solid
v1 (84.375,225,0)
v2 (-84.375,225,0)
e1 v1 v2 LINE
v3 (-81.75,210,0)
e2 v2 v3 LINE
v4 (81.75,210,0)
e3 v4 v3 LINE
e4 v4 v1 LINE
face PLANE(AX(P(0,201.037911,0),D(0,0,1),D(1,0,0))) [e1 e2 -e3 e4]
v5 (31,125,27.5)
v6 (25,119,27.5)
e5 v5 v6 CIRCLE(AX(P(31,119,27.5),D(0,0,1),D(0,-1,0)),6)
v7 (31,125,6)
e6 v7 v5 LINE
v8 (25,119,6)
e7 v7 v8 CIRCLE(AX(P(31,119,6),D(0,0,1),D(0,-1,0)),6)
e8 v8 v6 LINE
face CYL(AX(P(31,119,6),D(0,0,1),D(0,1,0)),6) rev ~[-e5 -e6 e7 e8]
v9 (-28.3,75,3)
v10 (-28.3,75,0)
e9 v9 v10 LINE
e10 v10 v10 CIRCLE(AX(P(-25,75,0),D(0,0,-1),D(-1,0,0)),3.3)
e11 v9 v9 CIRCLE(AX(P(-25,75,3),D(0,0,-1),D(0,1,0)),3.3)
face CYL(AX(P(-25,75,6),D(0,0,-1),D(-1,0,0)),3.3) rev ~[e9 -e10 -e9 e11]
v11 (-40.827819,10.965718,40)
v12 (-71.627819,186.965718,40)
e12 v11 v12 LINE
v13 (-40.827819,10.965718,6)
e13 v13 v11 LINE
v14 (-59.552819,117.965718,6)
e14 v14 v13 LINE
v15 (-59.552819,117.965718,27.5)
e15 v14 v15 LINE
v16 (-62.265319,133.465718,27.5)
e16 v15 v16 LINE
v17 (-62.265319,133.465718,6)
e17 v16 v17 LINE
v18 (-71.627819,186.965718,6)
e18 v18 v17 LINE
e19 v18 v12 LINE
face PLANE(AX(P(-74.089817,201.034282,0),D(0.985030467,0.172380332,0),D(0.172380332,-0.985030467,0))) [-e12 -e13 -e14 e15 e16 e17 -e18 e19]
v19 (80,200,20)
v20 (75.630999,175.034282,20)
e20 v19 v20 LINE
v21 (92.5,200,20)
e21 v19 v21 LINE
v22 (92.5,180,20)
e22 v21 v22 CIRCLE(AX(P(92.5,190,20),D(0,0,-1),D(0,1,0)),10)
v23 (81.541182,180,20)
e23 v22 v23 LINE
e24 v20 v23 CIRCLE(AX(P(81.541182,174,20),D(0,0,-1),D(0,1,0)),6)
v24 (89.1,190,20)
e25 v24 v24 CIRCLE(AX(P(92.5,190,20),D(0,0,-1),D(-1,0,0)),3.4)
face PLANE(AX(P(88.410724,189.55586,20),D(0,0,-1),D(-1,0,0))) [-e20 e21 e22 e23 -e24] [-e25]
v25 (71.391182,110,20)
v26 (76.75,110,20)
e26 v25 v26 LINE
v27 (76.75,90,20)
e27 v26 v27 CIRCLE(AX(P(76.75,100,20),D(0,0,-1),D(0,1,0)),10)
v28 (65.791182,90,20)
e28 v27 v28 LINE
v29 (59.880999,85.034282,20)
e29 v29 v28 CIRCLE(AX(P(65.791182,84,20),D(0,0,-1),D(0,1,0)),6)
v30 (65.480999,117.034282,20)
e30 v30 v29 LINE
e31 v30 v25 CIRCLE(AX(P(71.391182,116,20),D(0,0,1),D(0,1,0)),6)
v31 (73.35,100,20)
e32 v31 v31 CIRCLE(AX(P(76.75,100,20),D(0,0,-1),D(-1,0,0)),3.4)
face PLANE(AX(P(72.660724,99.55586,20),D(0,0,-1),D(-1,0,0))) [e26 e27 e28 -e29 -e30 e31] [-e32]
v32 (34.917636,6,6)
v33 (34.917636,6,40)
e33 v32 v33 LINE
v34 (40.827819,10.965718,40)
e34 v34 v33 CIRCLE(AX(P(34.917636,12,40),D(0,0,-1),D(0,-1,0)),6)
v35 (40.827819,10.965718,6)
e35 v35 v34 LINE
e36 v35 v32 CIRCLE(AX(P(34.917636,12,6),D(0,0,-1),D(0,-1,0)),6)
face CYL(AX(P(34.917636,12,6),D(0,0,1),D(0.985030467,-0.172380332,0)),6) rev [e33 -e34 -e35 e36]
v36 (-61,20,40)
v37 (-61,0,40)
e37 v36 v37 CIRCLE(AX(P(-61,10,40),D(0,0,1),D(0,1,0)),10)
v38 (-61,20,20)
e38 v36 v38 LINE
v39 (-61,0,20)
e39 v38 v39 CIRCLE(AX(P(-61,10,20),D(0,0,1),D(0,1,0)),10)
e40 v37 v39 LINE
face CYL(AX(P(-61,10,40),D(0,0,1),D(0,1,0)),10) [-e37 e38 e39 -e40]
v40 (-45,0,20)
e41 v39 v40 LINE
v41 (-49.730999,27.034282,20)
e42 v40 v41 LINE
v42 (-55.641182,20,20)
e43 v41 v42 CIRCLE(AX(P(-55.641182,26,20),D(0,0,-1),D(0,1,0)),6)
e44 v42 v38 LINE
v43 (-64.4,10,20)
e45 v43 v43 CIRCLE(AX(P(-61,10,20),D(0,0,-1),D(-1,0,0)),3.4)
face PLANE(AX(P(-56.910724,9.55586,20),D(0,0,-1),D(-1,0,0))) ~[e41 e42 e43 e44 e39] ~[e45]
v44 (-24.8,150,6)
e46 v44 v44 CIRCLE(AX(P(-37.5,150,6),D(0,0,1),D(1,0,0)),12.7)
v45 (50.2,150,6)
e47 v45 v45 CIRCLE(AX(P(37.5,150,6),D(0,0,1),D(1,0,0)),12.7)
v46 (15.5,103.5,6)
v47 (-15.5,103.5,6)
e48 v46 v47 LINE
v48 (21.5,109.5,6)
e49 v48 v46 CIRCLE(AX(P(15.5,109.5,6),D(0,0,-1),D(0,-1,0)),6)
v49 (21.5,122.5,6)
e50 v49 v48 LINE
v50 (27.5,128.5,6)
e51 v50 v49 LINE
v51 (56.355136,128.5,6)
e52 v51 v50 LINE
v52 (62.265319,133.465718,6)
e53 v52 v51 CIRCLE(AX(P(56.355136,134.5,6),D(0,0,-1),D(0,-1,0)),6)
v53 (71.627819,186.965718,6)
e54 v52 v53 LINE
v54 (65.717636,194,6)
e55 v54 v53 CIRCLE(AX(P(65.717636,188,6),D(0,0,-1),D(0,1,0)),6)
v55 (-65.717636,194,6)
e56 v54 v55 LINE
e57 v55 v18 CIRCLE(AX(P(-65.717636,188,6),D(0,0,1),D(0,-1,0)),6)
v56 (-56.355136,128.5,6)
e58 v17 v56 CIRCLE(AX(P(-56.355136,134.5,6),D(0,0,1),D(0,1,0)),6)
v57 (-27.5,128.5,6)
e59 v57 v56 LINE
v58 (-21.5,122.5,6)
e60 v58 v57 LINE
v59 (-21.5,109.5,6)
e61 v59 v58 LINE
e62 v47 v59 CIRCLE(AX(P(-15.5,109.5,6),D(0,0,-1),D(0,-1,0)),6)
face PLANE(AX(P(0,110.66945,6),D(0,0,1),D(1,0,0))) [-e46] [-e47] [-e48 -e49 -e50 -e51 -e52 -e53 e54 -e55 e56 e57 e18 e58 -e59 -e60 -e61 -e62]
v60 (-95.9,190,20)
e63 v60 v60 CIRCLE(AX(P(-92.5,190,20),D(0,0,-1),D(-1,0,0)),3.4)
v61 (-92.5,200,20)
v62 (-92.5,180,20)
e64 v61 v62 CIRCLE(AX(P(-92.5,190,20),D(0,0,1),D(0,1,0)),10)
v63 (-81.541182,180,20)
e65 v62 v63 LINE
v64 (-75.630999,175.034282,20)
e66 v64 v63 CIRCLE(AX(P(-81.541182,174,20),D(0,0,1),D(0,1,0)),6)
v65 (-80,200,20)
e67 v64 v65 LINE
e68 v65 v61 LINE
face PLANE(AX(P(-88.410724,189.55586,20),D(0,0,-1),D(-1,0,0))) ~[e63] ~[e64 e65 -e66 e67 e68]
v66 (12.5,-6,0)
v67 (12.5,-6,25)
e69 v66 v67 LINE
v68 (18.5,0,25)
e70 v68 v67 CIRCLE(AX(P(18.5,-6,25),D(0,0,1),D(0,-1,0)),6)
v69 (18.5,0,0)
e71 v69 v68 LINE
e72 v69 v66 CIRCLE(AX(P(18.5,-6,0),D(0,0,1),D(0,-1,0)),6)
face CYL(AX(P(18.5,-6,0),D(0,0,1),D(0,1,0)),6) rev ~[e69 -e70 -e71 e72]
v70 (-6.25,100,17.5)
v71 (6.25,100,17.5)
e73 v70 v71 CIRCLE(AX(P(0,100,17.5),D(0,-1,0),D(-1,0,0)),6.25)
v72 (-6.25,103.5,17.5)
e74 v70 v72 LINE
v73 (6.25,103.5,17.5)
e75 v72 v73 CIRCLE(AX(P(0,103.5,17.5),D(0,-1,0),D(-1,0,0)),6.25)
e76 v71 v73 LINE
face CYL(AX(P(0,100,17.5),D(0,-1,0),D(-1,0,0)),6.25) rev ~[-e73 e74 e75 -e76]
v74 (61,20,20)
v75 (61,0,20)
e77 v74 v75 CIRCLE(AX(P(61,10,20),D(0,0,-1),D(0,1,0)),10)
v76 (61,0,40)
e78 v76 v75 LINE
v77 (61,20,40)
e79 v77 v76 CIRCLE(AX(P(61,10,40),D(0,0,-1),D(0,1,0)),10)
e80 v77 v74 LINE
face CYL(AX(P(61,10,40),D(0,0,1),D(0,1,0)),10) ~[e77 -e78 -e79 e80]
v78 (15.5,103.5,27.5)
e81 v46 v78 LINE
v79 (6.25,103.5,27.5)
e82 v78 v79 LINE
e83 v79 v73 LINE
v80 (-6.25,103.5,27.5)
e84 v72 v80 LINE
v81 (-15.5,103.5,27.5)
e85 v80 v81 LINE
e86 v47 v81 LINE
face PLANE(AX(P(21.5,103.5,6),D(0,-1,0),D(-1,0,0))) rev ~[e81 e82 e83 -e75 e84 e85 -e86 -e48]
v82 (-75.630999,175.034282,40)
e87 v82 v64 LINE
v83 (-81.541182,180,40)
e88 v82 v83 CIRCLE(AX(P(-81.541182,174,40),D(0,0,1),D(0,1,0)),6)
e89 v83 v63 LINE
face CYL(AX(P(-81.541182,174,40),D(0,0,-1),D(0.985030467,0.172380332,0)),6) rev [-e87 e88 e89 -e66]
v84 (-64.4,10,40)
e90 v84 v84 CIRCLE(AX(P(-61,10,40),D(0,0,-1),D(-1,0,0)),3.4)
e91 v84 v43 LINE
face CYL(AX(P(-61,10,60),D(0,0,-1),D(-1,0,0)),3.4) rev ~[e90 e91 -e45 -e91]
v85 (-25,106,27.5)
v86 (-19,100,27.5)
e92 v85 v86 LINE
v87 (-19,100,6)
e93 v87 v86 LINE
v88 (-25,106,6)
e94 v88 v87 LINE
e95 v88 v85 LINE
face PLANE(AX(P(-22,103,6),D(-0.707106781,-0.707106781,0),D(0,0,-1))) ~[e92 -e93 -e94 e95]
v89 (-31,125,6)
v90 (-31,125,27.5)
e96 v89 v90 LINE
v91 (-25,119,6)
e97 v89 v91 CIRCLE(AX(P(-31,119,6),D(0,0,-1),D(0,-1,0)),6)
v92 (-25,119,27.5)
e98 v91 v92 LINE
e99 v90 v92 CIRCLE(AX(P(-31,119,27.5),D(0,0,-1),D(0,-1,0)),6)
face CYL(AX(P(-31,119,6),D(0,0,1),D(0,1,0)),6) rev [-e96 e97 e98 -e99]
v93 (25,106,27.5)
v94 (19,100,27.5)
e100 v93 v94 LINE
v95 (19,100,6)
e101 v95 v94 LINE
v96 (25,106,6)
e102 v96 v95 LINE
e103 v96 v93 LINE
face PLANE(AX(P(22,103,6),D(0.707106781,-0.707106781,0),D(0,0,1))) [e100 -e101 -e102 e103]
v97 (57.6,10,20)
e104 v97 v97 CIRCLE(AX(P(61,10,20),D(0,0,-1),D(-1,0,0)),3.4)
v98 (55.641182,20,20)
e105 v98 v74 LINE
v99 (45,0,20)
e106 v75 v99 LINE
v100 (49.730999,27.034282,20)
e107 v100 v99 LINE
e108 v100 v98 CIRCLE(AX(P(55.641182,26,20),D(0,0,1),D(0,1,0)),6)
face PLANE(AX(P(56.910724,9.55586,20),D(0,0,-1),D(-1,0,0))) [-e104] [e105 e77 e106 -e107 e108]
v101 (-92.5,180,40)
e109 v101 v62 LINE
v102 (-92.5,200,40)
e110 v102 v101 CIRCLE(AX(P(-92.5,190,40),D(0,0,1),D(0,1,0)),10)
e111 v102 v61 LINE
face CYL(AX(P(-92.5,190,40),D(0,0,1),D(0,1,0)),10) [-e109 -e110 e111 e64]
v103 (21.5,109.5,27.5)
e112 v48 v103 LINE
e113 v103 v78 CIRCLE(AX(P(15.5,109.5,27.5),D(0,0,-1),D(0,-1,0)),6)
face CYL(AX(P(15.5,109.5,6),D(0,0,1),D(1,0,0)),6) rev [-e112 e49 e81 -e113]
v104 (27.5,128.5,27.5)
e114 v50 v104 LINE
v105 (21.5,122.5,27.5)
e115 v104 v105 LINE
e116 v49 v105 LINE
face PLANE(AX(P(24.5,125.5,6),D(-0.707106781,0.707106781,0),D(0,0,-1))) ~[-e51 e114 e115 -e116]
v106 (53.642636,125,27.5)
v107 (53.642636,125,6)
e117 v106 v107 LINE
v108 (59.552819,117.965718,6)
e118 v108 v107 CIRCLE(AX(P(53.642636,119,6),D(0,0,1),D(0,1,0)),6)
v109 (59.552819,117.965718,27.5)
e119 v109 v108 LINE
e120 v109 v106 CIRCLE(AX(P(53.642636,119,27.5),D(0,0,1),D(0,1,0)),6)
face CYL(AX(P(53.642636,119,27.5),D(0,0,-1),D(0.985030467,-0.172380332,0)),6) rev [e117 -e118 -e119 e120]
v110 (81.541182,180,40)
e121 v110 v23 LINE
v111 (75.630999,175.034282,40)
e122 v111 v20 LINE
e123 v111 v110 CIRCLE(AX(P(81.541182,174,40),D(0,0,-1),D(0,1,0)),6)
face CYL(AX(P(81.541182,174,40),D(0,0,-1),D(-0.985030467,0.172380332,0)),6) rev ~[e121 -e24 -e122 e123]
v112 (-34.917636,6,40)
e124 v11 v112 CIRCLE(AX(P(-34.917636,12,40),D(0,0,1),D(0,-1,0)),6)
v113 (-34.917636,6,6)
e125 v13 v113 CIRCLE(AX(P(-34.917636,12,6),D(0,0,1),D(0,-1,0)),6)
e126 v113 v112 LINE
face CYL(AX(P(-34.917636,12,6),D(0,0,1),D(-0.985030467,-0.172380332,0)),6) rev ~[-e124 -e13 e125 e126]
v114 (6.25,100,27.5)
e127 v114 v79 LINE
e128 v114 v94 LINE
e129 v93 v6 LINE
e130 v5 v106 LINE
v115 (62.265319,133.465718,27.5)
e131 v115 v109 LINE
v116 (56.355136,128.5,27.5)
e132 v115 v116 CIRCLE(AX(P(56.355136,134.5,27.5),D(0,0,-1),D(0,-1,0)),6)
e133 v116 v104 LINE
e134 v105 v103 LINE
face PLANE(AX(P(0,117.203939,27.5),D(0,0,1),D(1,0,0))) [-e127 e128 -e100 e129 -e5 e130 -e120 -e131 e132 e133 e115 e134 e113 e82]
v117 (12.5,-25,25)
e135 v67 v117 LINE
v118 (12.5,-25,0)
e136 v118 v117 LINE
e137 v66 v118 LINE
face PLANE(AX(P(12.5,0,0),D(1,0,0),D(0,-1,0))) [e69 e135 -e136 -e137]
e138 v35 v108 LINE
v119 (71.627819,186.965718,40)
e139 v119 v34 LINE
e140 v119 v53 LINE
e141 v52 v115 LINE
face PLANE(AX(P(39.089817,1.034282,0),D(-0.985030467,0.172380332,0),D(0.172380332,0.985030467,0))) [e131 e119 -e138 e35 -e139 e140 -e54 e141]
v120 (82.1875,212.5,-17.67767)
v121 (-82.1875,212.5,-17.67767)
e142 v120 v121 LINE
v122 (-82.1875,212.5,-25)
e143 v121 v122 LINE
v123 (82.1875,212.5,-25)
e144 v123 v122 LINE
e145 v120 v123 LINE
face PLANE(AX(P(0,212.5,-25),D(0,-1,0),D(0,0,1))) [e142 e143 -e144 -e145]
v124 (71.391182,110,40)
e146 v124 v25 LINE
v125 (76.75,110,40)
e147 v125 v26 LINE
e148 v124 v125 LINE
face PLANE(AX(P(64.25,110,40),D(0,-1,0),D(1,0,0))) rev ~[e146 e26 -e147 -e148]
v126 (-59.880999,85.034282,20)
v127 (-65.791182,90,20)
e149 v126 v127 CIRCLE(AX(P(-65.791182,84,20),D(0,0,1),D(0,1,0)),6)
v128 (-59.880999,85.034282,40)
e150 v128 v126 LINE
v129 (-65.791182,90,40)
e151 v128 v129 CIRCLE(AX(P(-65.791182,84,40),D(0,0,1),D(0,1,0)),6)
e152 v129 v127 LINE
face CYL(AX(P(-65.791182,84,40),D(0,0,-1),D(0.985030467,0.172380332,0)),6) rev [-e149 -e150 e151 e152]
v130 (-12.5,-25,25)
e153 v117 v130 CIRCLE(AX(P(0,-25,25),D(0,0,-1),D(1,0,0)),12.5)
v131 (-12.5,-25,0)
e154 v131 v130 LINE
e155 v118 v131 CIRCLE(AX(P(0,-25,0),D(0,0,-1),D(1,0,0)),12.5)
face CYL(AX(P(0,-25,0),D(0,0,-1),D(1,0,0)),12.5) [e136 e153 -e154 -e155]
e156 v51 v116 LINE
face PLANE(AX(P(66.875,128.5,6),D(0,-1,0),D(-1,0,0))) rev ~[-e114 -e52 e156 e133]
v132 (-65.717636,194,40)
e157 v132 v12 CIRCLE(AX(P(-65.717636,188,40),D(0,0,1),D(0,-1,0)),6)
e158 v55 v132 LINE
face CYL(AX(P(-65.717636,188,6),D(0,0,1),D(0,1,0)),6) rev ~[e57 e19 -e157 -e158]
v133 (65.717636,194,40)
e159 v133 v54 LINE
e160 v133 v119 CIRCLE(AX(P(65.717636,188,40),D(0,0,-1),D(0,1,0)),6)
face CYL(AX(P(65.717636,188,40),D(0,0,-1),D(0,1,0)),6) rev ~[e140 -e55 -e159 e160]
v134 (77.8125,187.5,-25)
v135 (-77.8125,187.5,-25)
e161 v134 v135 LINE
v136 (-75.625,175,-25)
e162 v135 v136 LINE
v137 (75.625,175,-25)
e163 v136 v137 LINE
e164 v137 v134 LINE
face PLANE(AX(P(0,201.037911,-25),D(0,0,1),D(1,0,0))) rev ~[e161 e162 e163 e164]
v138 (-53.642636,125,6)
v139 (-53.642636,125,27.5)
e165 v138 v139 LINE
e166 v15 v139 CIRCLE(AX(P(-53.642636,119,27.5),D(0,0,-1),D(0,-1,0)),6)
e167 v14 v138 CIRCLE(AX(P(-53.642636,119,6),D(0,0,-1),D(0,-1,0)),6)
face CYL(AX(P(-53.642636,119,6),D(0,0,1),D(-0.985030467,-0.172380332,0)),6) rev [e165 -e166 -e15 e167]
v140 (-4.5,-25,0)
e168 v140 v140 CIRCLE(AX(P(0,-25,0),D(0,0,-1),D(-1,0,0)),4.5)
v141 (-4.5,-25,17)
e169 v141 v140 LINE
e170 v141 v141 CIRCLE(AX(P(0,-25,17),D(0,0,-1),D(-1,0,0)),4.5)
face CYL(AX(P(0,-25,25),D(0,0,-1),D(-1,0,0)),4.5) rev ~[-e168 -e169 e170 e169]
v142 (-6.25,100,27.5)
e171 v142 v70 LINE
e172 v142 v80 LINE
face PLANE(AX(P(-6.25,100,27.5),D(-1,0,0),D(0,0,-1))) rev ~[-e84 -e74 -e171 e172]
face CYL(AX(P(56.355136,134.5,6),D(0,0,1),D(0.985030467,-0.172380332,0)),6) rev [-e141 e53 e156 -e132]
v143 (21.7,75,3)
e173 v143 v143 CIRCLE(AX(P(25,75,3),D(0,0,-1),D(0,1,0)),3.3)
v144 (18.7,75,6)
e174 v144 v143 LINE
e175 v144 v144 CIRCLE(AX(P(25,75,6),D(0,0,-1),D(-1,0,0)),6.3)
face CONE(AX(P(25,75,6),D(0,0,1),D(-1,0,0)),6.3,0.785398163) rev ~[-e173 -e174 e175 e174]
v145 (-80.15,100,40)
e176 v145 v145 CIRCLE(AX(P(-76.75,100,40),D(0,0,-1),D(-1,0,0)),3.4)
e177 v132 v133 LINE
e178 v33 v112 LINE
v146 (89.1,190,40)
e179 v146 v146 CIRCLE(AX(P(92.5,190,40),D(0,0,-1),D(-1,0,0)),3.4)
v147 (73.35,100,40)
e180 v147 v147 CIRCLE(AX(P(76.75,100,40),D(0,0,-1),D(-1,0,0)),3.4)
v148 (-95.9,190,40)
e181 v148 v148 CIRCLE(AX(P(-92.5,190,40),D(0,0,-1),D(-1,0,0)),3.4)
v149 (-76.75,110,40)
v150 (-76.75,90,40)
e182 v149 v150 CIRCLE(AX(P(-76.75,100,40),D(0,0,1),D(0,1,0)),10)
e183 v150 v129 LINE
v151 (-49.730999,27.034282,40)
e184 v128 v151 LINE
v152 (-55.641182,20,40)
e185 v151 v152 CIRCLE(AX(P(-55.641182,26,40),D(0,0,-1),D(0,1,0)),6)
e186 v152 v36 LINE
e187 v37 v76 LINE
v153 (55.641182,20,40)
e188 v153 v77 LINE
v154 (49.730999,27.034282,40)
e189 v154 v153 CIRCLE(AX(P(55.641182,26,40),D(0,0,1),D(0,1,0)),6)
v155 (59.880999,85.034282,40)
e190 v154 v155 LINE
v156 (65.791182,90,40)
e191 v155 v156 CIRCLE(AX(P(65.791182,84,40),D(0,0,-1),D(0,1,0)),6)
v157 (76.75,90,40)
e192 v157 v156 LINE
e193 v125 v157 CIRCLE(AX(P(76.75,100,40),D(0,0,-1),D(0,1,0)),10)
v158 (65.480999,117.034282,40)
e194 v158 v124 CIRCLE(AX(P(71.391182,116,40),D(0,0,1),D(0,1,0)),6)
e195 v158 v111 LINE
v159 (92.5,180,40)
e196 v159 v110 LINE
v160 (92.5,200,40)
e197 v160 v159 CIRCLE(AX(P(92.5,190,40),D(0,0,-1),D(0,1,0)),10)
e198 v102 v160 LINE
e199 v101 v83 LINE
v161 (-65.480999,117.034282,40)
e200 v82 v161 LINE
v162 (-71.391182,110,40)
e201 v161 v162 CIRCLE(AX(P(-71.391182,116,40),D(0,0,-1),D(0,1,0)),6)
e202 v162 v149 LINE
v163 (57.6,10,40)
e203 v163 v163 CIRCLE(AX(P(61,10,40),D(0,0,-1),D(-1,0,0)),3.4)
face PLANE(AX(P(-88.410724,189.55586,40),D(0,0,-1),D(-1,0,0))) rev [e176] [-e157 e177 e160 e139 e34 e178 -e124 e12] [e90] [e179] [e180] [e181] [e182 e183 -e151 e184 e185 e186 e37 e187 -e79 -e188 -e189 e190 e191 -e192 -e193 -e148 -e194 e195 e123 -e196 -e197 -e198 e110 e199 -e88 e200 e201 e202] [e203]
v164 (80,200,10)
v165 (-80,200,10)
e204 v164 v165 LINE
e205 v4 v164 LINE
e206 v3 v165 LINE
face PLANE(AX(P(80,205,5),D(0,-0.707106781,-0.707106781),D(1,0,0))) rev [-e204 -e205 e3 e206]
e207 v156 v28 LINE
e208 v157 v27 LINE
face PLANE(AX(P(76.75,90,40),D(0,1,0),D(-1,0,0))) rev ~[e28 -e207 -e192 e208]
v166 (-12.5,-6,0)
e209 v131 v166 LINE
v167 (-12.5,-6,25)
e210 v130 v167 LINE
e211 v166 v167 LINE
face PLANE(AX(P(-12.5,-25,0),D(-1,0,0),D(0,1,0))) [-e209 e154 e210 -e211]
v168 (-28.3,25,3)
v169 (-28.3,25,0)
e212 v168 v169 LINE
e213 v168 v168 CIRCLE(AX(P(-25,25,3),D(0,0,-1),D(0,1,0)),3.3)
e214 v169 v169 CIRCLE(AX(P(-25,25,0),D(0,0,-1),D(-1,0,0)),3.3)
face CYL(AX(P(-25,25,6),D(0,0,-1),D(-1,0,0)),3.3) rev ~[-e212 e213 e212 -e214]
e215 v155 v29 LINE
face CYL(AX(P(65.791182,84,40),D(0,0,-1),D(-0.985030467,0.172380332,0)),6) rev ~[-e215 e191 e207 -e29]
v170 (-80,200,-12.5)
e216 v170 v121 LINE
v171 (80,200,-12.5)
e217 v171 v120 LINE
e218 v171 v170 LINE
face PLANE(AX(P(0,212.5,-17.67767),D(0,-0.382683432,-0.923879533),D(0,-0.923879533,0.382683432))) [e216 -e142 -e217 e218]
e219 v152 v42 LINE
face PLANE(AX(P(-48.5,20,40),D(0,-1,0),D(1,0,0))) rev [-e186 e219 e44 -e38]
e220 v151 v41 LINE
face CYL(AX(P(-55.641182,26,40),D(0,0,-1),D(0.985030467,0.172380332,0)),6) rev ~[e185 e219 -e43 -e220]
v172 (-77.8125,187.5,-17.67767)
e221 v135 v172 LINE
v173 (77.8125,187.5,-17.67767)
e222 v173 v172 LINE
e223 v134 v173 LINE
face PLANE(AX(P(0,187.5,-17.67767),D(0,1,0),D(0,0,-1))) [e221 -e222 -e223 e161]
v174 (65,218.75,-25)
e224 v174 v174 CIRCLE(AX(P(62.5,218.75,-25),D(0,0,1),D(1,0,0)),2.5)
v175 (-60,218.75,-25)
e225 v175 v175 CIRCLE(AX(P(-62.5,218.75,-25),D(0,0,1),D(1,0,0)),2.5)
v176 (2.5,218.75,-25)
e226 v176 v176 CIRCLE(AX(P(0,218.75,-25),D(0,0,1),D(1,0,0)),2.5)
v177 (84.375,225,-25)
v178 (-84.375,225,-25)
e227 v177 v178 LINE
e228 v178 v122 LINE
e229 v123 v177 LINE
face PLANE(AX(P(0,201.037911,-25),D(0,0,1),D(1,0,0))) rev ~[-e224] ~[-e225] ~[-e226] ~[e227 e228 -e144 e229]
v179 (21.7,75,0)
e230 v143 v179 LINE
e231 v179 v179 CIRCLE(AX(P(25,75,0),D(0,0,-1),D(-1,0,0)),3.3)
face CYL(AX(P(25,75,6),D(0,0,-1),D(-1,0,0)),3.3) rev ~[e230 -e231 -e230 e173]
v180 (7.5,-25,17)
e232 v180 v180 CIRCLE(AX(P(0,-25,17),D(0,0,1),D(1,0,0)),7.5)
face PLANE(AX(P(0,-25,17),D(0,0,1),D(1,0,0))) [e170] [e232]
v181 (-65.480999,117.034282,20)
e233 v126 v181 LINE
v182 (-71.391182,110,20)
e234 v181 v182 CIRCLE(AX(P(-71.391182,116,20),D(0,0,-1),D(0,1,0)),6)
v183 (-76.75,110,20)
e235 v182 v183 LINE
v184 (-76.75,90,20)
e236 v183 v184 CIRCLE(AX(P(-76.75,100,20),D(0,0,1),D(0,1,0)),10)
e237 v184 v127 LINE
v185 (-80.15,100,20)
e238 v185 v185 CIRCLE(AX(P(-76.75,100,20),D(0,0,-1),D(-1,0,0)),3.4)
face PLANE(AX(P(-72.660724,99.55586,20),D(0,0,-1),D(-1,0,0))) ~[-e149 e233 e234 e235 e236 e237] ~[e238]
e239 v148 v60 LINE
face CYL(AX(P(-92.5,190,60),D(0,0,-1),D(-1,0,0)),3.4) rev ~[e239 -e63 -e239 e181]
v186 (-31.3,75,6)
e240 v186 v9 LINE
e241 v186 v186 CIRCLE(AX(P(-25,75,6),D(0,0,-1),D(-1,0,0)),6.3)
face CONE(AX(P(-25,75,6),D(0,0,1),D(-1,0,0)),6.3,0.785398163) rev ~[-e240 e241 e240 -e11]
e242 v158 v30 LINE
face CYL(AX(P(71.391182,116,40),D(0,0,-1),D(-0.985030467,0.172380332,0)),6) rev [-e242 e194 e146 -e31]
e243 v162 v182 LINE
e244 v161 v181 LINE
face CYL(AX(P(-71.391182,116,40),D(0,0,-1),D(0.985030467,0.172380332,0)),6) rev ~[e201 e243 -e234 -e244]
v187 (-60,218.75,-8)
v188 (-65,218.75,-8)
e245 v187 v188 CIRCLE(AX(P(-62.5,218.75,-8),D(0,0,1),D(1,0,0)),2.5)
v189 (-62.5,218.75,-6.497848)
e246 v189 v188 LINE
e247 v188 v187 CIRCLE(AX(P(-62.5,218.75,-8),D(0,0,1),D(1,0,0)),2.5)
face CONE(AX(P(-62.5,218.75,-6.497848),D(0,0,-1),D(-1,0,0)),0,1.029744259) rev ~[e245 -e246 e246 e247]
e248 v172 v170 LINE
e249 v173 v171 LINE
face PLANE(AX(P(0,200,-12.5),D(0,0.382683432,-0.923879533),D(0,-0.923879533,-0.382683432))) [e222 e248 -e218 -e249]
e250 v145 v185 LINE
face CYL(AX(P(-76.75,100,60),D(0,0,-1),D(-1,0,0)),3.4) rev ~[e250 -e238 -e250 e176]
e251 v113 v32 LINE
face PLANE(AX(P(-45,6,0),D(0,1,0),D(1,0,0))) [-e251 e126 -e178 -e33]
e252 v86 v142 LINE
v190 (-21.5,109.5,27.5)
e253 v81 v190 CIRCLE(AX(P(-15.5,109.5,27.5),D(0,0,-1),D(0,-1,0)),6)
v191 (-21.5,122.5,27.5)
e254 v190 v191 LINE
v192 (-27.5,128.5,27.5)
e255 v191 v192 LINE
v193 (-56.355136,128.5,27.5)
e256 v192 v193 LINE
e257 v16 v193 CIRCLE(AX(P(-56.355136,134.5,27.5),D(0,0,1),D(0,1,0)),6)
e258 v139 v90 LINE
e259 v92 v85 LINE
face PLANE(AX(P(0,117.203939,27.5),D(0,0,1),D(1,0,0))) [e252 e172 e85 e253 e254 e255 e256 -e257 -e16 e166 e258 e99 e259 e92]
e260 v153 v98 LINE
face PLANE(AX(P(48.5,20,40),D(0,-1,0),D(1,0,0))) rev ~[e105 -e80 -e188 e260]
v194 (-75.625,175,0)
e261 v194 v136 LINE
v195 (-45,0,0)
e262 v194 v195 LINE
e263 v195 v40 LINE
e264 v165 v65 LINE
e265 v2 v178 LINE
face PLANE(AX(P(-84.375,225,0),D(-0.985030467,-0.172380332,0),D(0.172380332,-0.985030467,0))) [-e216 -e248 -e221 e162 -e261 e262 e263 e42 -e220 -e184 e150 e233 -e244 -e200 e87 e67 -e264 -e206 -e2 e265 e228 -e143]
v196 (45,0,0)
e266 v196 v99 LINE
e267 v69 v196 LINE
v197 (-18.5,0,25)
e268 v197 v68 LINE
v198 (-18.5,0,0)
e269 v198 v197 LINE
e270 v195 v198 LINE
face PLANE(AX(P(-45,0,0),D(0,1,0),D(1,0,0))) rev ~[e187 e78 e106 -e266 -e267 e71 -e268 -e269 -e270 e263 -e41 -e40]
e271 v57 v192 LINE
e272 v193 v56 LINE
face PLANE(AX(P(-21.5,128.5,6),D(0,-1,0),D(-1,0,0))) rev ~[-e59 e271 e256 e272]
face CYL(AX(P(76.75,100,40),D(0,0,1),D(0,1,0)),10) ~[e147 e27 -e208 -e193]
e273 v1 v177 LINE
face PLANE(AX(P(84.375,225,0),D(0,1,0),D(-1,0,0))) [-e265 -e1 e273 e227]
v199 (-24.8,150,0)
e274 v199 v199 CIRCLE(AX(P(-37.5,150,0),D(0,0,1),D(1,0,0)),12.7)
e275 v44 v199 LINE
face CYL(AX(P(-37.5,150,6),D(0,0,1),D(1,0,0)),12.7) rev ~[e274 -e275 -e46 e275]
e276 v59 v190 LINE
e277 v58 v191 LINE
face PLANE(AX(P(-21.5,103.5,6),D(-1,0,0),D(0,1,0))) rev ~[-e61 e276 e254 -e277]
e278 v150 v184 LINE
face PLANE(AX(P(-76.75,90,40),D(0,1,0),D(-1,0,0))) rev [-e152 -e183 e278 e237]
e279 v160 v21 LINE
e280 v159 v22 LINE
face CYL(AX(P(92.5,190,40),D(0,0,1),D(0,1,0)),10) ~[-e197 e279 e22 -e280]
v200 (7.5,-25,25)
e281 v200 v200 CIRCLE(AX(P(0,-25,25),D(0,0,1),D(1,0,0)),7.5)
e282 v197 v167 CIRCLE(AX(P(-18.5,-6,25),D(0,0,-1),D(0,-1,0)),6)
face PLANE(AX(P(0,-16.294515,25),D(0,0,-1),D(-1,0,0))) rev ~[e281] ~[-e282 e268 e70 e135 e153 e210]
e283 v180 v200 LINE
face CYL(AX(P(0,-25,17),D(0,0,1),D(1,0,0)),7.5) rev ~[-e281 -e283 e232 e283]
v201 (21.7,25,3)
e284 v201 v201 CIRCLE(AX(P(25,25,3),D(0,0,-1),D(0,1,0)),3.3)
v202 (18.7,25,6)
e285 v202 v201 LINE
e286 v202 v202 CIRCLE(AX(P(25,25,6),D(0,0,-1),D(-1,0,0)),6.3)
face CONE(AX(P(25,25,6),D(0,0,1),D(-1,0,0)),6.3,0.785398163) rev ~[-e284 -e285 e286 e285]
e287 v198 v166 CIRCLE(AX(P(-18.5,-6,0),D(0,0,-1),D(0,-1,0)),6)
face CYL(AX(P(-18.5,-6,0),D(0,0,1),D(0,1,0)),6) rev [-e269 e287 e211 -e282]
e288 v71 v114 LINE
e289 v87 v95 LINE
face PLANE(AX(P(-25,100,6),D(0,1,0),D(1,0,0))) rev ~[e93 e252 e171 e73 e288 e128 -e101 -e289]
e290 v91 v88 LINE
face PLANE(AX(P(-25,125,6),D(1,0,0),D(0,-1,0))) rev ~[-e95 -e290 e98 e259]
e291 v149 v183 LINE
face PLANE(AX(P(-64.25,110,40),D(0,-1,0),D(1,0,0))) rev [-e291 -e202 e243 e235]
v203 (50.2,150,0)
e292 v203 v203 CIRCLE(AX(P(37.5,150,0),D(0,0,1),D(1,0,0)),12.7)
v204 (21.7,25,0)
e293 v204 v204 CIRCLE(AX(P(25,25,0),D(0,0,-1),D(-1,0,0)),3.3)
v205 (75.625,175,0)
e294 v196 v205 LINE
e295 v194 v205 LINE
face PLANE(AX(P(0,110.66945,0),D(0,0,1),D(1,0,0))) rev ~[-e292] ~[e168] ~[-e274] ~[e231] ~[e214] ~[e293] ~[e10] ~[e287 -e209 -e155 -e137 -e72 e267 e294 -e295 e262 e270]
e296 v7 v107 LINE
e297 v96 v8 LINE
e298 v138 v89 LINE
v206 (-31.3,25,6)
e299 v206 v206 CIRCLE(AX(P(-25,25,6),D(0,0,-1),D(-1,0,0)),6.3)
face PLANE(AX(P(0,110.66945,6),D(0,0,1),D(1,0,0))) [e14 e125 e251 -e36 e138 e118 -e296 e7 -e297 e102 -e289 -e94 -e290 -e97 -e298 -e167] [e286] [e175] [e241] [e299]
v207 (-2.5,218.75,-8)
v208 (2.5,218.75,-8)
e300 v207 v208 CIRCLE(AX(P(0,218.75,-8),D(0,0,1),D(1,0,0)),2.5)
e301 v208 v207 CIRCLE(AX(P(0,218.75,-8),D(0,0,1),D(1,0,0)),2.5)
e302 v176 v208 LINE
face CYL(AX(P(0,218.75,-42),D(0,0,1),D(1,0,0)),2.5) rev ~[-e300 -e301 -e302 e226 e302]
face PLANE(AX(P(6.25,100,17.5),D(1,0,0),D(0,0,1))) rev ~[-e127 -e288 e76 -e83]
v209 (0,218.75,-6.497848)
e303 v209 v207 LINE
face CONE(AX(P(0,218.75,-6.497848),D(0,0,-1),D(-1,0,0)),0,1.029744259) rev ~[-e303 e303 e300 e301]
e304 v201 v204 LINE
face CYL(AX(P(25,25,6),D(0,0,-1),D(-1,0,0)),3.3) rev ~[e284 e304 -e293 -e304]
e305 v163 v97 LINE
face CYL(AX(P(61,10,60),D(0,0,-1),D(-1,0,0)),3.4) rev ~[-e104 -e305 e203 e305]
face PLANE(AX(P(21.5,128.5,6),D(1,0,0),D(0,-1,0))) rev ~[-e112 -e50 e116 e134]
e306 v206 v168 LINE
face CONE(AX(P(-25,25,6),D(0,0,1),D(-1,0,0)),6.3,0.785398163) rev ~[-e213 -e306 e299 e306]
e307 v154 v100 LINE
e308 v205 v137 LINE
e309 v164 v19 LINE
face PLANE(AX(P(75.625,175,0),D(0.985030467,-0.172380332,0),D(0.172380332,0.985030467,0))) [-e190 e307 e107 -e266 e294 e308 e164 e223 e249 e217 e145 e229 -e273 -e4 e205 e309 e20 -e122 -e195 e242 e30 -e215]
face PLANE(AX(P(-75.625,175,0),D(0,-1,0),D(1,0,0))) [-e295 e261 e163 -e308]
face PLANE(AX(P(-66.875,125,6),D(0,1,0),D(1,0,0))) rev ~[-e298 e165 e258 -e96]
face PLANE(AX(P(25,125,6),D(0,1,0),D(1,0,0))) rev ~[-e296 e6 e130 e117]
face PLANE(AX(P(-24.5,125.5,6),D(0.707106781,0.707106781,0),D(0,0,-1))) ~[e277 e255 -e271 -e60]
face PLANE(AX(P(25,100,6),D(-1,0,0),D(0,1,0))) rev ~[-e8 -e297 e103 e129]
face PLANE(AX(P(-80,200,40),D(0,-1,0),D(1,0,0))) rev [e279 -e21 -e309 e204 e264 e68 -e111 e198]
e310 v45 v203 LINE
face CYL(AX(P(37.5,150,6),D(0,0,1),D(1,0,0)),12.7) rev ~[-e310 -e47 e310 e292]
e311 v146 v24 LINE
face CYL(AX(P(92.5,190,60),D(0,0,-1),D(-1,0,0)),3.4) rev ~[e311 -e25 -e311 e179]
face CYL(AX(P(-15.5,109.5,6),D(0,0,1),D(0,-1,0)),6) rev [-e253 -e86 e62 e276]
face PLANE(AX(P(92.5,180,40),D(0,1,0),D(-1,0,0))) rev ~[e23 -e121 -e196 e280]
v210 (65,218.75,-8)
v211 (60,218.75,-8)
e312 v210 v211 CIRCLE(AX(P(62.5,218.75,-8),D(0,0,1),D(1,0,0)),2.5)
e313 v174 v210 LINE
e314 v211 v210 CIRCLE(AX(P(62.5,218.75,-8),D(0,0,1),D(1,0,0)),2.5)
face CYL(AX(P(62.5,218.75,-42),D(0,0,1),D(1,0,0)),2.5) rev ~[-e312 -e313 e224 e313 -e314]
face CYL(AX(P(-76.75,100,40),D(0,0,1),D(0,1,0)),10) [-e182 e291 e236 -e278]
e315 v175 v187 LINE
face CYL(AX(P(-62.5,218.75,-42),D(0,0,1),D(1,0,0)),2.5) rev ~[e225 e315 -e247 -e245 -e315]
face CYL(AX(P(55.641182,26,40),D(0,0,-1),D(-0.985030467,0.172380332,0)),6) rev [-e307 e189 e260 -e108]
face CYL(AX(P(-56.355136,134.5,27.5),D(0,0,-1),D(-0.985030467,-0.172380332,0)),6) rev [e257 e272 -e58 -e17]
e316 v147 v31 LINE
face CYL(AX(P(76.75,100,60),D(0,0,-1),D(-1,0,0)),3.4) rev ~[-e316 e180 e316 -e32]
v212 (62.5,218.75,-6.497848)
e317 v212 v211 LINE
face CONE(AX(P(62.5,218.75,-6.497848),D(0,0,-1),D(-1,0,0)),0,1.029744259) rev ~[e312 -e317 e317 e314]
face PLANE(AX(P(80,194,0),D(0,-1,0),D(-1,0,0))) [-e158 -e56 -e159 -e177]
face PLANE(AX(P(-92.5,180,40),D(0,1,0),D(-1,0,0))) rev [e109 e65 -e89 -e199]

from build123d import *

# Parameters (mm, degrees)
MAIN_BOBY_DEPTH                                 = 40
WALL_THICKNESS_T                                = -6
RIB_DEPTH                                       = 21.5
TOP_BOSS_DEPTH                                  = 25
TABS_DEPTH                                      = 20
V_SLOT_DEPTH                                    = 103.5
V_SLOT_DEPTH_BACK                               = 103.5
U_CUTOUT_REACH                                  = 127
BOTTOM_BOSS_DEPTH                               = 25
LARGE_HOLES_REACH                               = 33
SKETCH8_R                                       = 12.7
CSK_FOR_M6_FLAT_HEAD_MACHINE_SCREW1_D           = 6.6
CSK_FOR_M6_FLAT_HEAD_MACHINE_SCREW1_CSINK_D     = 12.6
CSK_FOR_M6_FLAT_HEAD_MACHINE_SCREW1_CSINK_ANGLE = 90
CBORE_FOR_M8_SHCS1_D                            = 9
CBORE_FOR_M8_SHCS1_DEPTH                        = 25
CBORE_FOR_M8_SHCS1_CBORE_D                      = 15
CBORE_FOR_M8_SHCS1_CBORE_DEPTH                  = 8
M6X1_0_TAPPED_HOLE1_D                           = 5
M6X1_0_TAPPED_HOLE1_DEPTH                       = 17
M6X1_0_TAPPED_HOLE1_TIP                         = 1.502151548
M8X1_25_TAPPED_HOLE2_D                          = 6.8
M8X1_25_TAPPED_HOLE2_DEPTH                      = 20
FILLET1_R                                       = 6
CHAMFER1_SIZE                                   = 10
CHAMFER2_SIZE                                   = 6


with BuildPart() as part:
    # Sketch1 → Main Boby (new body)
    with BuildSketch(Plane.XY):
        Polygon((80, 200), (-80, 200), (-45, 0), (45, 0), align=None)
    extrude(amount=MAIN_BOBY_DEPTH)

    # Wall Thickness
    wall_thickness_openings = [part.faces().sort_by_distance(p)[0] for p in [
        (0, 100, 40),
    ]]
    offset(amount=WALL_THICKNESS_T, openings=wall_thickness_openings, kind=Kind.INTERSECTION)

    # Sketch2 → Rib (add)
    with BuildSketch(Plane.XY.offset(6)):
        Polygon((-66.875, 125), (-25, 125), (-25, 100), (25, 100), (25, 125), (66.875, 125), (66.875, 128.5), (21.5, 128.5), (21.5, 103.5), (-21.5, 103.5), (-21.5, 128.5), (-66.875, 128.5), align=None)
    extrude(amount=RIB_DEPTH)

    # Sketch3 → Top Boss (add)
    with BuildSketch(Plane(origin=(0, 0, 0), x_dir=(-1, 0, 0), z_dir=(0, 0, -1))):
        Polygon((-84.375, 225), (84.375, 225), (75.625, 175), (-75.625, 175), align=None)
    extrude(amount=TOP_BOSS_DEPTH)

    # Sketch4 → Tabs (add)
    with BuildSketch(Plane.XY.offset(40)):
        with BuildLine():
            Line((80, 200), (92.5, 200))
            ThreePointArc((92.5, 200), (102.5, 190), (92.5, 180))
            Line((92.5, 180), (76.5, 180))
            Line((76.5, 180), (80, 200))
        make_face()
        with BuildLine():
            Line((64.25, 110), (76.75, 110))
            ThreePointArc((76.75, 110), (86.75, 100), (76.75, 90))
            Line((76.75, 90), (60.75, 90))
            Line((60.75, 90), (64.25, 110))
        make_face()
        with BuildLine():
            Line((48.5, 20), (61, 20))
            ThreePointArc((61, 20), (71, 10), (61, 0))
            Line((61, 0), (45, 0))
            Line((45, 0), (48.5, 20))
        make_face()
    tabs = extrude(amount=-TABS_DEPTH)

    # Mirror1: Tabs across plane
    add(tabs.mirror(Plane(origin=(0, 0, 0), x_dir=(0, 0, 1), z_dir=(1, 0, 0))))

    # Sketch5 → V Slot (cut, two sides)
    with BuildSketch(Plane(origin=(0, 0, 0), x_dir=(0, 0, -1), z_dir=(1, 0, 0))) as v_slot_sk:
        Polygon((25, 212.5), (17.67766953, 212.5), (12.5, 200), (17.67766953, 187.5), (25, 187.5), align=None)
    extrude(amount=V_SLOT_DEPTH, mode=Mode.SUBTRACT)
    extrude(v_slot_sk.sketch, amount=-V_SLOT_DEPTH_BACK, mode=Mode.SUBTRACT)

    # Sketch6 → U Cutout (cut, up to next)
    with BuildSketch(Plane.XZ.offset(-100), mode=Mode.PRIVATE) as u_cutout_sk1:
        with BuildLine():
            Line((-6.25, 27.5), (-6.25, 17.5))
            ThreePointArc((-6.25, 17.5), (0, 11.25), (6.25, 17.5))
            Line((6.25, 17.5), (6.25, 27.5))
            Line((6.25, 27.5), (-6.25, 27.5))
        make_face()
    u_cutout_tool1 = extrude(u_cutout_sk1.sketch, amount=-U_CUTOUT_REACH, mode=Mode.PRIVATE) & part.part
    add(u_cutout_tool1.solids().sort_by_distance((0, 100, 19.980369))[0], mode=Mode.SUBTRACT)

    # Sketch7 → Bottom Boss (add)
    with BuildSketch(Plane(origin=(0, 0, 0), x_dir=(-1, 0, 0), z_dir=(0, 0, -1))):
        with BuildLine():
            Line((-12.5, 0), (-12.5, -25))
            ThreePointArc((-12.5, -25), (0, -37.5), (12.5, -25))
            Line((12.5, -25), (12.5, 0))
            Line((12.5, 0), (-12.5, 0))
        make_face()
    extrude(amount=-BOTTOM_BOSS_DEPTH)

    # Sketch8 → Large Holes (cut, up to next)
    with BuildSketch(Plane.XY.offset(6), mode=Mode.PRIVATE) as large_holes_sk1:
        with Locations((-37.5, 150)):
            Circle(SKETCH8_R)
    large_holes_tool1 = extrude(large_holes_sk1.sketch, amount=-LARGE_HOLES_REACH, mode=Mode.PRIVATE) & part.part
    add(large_holes_tool1.solids().sort_by_distance((-37.5, 150, 6))[0], mode=Mode.SUBTRACT)
    # Sketch8 → Large Holes (cut, up to next)
    with BuildSketch(Plane.XY.offset(6), mode=Mode.PRIVATE) as large_holes_sk2:
        with Locations((37.5, 150)):
            Circle(SKETCH8_R)
    large_holes_tool2 = extrude(large_holes_sk2.sketch, amount=-LARGE_HOLES_REACH, mode=Mode.PRIVATE) & part.part
    add(large_holes_tool2.solids().sort_by_distance((37.5, 150, 6))[0], mode=Mode.SUBTRACT)

    # CSK for M6 Flat Head Machine Screw1 (through all)
    with Locations(Plane.XY.offset(6)):
        with Locations((-25, 75), (25, 75), (25, 25), (-25, 25)):
            CounterSinkHole(CSK_FOR_M6_FLAT_HEAD_MACHINE_SCREW1_D / 2, CSK_FOR_M6_FLAT_HEAD_MACHINE_SCREW1_CSINK_D / 2, counter_sink_angle=CSK_FOR_M6_FLAT_HEAD_MACHINE_SCREW1_CSINK_ANGLE)

    # CBORE for M8 SHCS1
    with Locations(Plane.XY.offset(25)):
        with Locations((0, -25)):
            CounterBoreHole(CBORE_FOR_M8_SHCS1_D / 2, CBORE_FOR_M8_SHCS1_CBORE_D / 2, CBORE_FOR_M8_SHCS1_CBORE_DEPTH, depth=CBORE_FOR_M8_SHCS1_DEPTH)

    # M6x1.0 Tapped Hole1
    with Locations(Plane(origin=(0, 0, -25), x_dir=(-1, 0, 0), z_dir=(0, 0, -1))):
        with Locations((-62.5, 218.75), (0, 218.75), (62.5, 218.75)):
            Hole(M6X1_0_TAPPED_HOLE1_D / 2, depth=M6X1_0_TAPPED_HOLE1_DEPTH)
            with Locations((0, 0, -(M6X1_0_TAPPED_HOLE1_DEPTH + M6X1_0_TAPPED_HOLE1_TIP / 2))):  # 118° drill point
                Cone(0, M6X1_0_TAPPED_HOLE1_D / 2, M6X1_0_TAPPED_HOLE1_TIP, mode=Mode.SUBTRACT)

    # M8x1.25 Tapped Hole2
    with Locations(Plane.XY.offset(40)):
        with Locations((-92.5, 190), (92.5, 190), (76.75, 100), (-76.75, 100), (-61, 10), (61, 10)):
            Hole(M8X1_25_TAPPED_HOLE2_D / 2, depth=M8X1_25_TAPPED_HOLE2_DEPTH)

    # Fillet1
    fillet1_edges = [part.edges().sort_by_distance(p)[0] for p in [
        (48.5, 20, 30),
        (-76.5, 180, 30),
        (-64.25, 110, 30),
        (-60.75, 90, 30),
        (-48.5, 20, 30),
        (39.958817849, 6, 23),
        (72.858817849, 194, 23),
        (-72.858817849, 194, 23),
        (-39.958817849, 6, 23),
        (12.5, 0, 12.5),
        (-12.5, 0, 12.5),
        (60.783817849, 125, 16.75),
        (-60.783817849, 125, 16.75),
        (25, 125, 16.75),
        (61.396317849, 128.5, 16.75),
        (21.5, 103.5, 16.75),
        (-21.5, 103.5, 16.75),
        (-61.396317849, 128.5, 16.75),
        (-25, 125, 16.75),
        (76.5, 180, 30),
        (60.75, 90, 30),
        (64.25, 110, 30),
    ]]
    fillet(fillet1_edges, radius=FILLET1_R)

    # Chamfer1
    chamfer1_edges = [part.edges().sort_by_distance(p)[0] for p in [
        (0, 200, 0),
    ]]
    chamfer(chamfer1_edges, length=CHAMFER1_SIZE)

    # Chamfer2
    chamfer2_edges = [part.edges().sort_by_distance(p)[0] for p in [
        (21.5, 128.5, 16.75),
        (-21.5, 128.5, 16.75),
        (-25, 100, 16.75),
        (25, 100, 16.75),
    ]]
    chamfer(chamfer2_edges, length=CHAMFER2_SIZE)


solid = part.part
